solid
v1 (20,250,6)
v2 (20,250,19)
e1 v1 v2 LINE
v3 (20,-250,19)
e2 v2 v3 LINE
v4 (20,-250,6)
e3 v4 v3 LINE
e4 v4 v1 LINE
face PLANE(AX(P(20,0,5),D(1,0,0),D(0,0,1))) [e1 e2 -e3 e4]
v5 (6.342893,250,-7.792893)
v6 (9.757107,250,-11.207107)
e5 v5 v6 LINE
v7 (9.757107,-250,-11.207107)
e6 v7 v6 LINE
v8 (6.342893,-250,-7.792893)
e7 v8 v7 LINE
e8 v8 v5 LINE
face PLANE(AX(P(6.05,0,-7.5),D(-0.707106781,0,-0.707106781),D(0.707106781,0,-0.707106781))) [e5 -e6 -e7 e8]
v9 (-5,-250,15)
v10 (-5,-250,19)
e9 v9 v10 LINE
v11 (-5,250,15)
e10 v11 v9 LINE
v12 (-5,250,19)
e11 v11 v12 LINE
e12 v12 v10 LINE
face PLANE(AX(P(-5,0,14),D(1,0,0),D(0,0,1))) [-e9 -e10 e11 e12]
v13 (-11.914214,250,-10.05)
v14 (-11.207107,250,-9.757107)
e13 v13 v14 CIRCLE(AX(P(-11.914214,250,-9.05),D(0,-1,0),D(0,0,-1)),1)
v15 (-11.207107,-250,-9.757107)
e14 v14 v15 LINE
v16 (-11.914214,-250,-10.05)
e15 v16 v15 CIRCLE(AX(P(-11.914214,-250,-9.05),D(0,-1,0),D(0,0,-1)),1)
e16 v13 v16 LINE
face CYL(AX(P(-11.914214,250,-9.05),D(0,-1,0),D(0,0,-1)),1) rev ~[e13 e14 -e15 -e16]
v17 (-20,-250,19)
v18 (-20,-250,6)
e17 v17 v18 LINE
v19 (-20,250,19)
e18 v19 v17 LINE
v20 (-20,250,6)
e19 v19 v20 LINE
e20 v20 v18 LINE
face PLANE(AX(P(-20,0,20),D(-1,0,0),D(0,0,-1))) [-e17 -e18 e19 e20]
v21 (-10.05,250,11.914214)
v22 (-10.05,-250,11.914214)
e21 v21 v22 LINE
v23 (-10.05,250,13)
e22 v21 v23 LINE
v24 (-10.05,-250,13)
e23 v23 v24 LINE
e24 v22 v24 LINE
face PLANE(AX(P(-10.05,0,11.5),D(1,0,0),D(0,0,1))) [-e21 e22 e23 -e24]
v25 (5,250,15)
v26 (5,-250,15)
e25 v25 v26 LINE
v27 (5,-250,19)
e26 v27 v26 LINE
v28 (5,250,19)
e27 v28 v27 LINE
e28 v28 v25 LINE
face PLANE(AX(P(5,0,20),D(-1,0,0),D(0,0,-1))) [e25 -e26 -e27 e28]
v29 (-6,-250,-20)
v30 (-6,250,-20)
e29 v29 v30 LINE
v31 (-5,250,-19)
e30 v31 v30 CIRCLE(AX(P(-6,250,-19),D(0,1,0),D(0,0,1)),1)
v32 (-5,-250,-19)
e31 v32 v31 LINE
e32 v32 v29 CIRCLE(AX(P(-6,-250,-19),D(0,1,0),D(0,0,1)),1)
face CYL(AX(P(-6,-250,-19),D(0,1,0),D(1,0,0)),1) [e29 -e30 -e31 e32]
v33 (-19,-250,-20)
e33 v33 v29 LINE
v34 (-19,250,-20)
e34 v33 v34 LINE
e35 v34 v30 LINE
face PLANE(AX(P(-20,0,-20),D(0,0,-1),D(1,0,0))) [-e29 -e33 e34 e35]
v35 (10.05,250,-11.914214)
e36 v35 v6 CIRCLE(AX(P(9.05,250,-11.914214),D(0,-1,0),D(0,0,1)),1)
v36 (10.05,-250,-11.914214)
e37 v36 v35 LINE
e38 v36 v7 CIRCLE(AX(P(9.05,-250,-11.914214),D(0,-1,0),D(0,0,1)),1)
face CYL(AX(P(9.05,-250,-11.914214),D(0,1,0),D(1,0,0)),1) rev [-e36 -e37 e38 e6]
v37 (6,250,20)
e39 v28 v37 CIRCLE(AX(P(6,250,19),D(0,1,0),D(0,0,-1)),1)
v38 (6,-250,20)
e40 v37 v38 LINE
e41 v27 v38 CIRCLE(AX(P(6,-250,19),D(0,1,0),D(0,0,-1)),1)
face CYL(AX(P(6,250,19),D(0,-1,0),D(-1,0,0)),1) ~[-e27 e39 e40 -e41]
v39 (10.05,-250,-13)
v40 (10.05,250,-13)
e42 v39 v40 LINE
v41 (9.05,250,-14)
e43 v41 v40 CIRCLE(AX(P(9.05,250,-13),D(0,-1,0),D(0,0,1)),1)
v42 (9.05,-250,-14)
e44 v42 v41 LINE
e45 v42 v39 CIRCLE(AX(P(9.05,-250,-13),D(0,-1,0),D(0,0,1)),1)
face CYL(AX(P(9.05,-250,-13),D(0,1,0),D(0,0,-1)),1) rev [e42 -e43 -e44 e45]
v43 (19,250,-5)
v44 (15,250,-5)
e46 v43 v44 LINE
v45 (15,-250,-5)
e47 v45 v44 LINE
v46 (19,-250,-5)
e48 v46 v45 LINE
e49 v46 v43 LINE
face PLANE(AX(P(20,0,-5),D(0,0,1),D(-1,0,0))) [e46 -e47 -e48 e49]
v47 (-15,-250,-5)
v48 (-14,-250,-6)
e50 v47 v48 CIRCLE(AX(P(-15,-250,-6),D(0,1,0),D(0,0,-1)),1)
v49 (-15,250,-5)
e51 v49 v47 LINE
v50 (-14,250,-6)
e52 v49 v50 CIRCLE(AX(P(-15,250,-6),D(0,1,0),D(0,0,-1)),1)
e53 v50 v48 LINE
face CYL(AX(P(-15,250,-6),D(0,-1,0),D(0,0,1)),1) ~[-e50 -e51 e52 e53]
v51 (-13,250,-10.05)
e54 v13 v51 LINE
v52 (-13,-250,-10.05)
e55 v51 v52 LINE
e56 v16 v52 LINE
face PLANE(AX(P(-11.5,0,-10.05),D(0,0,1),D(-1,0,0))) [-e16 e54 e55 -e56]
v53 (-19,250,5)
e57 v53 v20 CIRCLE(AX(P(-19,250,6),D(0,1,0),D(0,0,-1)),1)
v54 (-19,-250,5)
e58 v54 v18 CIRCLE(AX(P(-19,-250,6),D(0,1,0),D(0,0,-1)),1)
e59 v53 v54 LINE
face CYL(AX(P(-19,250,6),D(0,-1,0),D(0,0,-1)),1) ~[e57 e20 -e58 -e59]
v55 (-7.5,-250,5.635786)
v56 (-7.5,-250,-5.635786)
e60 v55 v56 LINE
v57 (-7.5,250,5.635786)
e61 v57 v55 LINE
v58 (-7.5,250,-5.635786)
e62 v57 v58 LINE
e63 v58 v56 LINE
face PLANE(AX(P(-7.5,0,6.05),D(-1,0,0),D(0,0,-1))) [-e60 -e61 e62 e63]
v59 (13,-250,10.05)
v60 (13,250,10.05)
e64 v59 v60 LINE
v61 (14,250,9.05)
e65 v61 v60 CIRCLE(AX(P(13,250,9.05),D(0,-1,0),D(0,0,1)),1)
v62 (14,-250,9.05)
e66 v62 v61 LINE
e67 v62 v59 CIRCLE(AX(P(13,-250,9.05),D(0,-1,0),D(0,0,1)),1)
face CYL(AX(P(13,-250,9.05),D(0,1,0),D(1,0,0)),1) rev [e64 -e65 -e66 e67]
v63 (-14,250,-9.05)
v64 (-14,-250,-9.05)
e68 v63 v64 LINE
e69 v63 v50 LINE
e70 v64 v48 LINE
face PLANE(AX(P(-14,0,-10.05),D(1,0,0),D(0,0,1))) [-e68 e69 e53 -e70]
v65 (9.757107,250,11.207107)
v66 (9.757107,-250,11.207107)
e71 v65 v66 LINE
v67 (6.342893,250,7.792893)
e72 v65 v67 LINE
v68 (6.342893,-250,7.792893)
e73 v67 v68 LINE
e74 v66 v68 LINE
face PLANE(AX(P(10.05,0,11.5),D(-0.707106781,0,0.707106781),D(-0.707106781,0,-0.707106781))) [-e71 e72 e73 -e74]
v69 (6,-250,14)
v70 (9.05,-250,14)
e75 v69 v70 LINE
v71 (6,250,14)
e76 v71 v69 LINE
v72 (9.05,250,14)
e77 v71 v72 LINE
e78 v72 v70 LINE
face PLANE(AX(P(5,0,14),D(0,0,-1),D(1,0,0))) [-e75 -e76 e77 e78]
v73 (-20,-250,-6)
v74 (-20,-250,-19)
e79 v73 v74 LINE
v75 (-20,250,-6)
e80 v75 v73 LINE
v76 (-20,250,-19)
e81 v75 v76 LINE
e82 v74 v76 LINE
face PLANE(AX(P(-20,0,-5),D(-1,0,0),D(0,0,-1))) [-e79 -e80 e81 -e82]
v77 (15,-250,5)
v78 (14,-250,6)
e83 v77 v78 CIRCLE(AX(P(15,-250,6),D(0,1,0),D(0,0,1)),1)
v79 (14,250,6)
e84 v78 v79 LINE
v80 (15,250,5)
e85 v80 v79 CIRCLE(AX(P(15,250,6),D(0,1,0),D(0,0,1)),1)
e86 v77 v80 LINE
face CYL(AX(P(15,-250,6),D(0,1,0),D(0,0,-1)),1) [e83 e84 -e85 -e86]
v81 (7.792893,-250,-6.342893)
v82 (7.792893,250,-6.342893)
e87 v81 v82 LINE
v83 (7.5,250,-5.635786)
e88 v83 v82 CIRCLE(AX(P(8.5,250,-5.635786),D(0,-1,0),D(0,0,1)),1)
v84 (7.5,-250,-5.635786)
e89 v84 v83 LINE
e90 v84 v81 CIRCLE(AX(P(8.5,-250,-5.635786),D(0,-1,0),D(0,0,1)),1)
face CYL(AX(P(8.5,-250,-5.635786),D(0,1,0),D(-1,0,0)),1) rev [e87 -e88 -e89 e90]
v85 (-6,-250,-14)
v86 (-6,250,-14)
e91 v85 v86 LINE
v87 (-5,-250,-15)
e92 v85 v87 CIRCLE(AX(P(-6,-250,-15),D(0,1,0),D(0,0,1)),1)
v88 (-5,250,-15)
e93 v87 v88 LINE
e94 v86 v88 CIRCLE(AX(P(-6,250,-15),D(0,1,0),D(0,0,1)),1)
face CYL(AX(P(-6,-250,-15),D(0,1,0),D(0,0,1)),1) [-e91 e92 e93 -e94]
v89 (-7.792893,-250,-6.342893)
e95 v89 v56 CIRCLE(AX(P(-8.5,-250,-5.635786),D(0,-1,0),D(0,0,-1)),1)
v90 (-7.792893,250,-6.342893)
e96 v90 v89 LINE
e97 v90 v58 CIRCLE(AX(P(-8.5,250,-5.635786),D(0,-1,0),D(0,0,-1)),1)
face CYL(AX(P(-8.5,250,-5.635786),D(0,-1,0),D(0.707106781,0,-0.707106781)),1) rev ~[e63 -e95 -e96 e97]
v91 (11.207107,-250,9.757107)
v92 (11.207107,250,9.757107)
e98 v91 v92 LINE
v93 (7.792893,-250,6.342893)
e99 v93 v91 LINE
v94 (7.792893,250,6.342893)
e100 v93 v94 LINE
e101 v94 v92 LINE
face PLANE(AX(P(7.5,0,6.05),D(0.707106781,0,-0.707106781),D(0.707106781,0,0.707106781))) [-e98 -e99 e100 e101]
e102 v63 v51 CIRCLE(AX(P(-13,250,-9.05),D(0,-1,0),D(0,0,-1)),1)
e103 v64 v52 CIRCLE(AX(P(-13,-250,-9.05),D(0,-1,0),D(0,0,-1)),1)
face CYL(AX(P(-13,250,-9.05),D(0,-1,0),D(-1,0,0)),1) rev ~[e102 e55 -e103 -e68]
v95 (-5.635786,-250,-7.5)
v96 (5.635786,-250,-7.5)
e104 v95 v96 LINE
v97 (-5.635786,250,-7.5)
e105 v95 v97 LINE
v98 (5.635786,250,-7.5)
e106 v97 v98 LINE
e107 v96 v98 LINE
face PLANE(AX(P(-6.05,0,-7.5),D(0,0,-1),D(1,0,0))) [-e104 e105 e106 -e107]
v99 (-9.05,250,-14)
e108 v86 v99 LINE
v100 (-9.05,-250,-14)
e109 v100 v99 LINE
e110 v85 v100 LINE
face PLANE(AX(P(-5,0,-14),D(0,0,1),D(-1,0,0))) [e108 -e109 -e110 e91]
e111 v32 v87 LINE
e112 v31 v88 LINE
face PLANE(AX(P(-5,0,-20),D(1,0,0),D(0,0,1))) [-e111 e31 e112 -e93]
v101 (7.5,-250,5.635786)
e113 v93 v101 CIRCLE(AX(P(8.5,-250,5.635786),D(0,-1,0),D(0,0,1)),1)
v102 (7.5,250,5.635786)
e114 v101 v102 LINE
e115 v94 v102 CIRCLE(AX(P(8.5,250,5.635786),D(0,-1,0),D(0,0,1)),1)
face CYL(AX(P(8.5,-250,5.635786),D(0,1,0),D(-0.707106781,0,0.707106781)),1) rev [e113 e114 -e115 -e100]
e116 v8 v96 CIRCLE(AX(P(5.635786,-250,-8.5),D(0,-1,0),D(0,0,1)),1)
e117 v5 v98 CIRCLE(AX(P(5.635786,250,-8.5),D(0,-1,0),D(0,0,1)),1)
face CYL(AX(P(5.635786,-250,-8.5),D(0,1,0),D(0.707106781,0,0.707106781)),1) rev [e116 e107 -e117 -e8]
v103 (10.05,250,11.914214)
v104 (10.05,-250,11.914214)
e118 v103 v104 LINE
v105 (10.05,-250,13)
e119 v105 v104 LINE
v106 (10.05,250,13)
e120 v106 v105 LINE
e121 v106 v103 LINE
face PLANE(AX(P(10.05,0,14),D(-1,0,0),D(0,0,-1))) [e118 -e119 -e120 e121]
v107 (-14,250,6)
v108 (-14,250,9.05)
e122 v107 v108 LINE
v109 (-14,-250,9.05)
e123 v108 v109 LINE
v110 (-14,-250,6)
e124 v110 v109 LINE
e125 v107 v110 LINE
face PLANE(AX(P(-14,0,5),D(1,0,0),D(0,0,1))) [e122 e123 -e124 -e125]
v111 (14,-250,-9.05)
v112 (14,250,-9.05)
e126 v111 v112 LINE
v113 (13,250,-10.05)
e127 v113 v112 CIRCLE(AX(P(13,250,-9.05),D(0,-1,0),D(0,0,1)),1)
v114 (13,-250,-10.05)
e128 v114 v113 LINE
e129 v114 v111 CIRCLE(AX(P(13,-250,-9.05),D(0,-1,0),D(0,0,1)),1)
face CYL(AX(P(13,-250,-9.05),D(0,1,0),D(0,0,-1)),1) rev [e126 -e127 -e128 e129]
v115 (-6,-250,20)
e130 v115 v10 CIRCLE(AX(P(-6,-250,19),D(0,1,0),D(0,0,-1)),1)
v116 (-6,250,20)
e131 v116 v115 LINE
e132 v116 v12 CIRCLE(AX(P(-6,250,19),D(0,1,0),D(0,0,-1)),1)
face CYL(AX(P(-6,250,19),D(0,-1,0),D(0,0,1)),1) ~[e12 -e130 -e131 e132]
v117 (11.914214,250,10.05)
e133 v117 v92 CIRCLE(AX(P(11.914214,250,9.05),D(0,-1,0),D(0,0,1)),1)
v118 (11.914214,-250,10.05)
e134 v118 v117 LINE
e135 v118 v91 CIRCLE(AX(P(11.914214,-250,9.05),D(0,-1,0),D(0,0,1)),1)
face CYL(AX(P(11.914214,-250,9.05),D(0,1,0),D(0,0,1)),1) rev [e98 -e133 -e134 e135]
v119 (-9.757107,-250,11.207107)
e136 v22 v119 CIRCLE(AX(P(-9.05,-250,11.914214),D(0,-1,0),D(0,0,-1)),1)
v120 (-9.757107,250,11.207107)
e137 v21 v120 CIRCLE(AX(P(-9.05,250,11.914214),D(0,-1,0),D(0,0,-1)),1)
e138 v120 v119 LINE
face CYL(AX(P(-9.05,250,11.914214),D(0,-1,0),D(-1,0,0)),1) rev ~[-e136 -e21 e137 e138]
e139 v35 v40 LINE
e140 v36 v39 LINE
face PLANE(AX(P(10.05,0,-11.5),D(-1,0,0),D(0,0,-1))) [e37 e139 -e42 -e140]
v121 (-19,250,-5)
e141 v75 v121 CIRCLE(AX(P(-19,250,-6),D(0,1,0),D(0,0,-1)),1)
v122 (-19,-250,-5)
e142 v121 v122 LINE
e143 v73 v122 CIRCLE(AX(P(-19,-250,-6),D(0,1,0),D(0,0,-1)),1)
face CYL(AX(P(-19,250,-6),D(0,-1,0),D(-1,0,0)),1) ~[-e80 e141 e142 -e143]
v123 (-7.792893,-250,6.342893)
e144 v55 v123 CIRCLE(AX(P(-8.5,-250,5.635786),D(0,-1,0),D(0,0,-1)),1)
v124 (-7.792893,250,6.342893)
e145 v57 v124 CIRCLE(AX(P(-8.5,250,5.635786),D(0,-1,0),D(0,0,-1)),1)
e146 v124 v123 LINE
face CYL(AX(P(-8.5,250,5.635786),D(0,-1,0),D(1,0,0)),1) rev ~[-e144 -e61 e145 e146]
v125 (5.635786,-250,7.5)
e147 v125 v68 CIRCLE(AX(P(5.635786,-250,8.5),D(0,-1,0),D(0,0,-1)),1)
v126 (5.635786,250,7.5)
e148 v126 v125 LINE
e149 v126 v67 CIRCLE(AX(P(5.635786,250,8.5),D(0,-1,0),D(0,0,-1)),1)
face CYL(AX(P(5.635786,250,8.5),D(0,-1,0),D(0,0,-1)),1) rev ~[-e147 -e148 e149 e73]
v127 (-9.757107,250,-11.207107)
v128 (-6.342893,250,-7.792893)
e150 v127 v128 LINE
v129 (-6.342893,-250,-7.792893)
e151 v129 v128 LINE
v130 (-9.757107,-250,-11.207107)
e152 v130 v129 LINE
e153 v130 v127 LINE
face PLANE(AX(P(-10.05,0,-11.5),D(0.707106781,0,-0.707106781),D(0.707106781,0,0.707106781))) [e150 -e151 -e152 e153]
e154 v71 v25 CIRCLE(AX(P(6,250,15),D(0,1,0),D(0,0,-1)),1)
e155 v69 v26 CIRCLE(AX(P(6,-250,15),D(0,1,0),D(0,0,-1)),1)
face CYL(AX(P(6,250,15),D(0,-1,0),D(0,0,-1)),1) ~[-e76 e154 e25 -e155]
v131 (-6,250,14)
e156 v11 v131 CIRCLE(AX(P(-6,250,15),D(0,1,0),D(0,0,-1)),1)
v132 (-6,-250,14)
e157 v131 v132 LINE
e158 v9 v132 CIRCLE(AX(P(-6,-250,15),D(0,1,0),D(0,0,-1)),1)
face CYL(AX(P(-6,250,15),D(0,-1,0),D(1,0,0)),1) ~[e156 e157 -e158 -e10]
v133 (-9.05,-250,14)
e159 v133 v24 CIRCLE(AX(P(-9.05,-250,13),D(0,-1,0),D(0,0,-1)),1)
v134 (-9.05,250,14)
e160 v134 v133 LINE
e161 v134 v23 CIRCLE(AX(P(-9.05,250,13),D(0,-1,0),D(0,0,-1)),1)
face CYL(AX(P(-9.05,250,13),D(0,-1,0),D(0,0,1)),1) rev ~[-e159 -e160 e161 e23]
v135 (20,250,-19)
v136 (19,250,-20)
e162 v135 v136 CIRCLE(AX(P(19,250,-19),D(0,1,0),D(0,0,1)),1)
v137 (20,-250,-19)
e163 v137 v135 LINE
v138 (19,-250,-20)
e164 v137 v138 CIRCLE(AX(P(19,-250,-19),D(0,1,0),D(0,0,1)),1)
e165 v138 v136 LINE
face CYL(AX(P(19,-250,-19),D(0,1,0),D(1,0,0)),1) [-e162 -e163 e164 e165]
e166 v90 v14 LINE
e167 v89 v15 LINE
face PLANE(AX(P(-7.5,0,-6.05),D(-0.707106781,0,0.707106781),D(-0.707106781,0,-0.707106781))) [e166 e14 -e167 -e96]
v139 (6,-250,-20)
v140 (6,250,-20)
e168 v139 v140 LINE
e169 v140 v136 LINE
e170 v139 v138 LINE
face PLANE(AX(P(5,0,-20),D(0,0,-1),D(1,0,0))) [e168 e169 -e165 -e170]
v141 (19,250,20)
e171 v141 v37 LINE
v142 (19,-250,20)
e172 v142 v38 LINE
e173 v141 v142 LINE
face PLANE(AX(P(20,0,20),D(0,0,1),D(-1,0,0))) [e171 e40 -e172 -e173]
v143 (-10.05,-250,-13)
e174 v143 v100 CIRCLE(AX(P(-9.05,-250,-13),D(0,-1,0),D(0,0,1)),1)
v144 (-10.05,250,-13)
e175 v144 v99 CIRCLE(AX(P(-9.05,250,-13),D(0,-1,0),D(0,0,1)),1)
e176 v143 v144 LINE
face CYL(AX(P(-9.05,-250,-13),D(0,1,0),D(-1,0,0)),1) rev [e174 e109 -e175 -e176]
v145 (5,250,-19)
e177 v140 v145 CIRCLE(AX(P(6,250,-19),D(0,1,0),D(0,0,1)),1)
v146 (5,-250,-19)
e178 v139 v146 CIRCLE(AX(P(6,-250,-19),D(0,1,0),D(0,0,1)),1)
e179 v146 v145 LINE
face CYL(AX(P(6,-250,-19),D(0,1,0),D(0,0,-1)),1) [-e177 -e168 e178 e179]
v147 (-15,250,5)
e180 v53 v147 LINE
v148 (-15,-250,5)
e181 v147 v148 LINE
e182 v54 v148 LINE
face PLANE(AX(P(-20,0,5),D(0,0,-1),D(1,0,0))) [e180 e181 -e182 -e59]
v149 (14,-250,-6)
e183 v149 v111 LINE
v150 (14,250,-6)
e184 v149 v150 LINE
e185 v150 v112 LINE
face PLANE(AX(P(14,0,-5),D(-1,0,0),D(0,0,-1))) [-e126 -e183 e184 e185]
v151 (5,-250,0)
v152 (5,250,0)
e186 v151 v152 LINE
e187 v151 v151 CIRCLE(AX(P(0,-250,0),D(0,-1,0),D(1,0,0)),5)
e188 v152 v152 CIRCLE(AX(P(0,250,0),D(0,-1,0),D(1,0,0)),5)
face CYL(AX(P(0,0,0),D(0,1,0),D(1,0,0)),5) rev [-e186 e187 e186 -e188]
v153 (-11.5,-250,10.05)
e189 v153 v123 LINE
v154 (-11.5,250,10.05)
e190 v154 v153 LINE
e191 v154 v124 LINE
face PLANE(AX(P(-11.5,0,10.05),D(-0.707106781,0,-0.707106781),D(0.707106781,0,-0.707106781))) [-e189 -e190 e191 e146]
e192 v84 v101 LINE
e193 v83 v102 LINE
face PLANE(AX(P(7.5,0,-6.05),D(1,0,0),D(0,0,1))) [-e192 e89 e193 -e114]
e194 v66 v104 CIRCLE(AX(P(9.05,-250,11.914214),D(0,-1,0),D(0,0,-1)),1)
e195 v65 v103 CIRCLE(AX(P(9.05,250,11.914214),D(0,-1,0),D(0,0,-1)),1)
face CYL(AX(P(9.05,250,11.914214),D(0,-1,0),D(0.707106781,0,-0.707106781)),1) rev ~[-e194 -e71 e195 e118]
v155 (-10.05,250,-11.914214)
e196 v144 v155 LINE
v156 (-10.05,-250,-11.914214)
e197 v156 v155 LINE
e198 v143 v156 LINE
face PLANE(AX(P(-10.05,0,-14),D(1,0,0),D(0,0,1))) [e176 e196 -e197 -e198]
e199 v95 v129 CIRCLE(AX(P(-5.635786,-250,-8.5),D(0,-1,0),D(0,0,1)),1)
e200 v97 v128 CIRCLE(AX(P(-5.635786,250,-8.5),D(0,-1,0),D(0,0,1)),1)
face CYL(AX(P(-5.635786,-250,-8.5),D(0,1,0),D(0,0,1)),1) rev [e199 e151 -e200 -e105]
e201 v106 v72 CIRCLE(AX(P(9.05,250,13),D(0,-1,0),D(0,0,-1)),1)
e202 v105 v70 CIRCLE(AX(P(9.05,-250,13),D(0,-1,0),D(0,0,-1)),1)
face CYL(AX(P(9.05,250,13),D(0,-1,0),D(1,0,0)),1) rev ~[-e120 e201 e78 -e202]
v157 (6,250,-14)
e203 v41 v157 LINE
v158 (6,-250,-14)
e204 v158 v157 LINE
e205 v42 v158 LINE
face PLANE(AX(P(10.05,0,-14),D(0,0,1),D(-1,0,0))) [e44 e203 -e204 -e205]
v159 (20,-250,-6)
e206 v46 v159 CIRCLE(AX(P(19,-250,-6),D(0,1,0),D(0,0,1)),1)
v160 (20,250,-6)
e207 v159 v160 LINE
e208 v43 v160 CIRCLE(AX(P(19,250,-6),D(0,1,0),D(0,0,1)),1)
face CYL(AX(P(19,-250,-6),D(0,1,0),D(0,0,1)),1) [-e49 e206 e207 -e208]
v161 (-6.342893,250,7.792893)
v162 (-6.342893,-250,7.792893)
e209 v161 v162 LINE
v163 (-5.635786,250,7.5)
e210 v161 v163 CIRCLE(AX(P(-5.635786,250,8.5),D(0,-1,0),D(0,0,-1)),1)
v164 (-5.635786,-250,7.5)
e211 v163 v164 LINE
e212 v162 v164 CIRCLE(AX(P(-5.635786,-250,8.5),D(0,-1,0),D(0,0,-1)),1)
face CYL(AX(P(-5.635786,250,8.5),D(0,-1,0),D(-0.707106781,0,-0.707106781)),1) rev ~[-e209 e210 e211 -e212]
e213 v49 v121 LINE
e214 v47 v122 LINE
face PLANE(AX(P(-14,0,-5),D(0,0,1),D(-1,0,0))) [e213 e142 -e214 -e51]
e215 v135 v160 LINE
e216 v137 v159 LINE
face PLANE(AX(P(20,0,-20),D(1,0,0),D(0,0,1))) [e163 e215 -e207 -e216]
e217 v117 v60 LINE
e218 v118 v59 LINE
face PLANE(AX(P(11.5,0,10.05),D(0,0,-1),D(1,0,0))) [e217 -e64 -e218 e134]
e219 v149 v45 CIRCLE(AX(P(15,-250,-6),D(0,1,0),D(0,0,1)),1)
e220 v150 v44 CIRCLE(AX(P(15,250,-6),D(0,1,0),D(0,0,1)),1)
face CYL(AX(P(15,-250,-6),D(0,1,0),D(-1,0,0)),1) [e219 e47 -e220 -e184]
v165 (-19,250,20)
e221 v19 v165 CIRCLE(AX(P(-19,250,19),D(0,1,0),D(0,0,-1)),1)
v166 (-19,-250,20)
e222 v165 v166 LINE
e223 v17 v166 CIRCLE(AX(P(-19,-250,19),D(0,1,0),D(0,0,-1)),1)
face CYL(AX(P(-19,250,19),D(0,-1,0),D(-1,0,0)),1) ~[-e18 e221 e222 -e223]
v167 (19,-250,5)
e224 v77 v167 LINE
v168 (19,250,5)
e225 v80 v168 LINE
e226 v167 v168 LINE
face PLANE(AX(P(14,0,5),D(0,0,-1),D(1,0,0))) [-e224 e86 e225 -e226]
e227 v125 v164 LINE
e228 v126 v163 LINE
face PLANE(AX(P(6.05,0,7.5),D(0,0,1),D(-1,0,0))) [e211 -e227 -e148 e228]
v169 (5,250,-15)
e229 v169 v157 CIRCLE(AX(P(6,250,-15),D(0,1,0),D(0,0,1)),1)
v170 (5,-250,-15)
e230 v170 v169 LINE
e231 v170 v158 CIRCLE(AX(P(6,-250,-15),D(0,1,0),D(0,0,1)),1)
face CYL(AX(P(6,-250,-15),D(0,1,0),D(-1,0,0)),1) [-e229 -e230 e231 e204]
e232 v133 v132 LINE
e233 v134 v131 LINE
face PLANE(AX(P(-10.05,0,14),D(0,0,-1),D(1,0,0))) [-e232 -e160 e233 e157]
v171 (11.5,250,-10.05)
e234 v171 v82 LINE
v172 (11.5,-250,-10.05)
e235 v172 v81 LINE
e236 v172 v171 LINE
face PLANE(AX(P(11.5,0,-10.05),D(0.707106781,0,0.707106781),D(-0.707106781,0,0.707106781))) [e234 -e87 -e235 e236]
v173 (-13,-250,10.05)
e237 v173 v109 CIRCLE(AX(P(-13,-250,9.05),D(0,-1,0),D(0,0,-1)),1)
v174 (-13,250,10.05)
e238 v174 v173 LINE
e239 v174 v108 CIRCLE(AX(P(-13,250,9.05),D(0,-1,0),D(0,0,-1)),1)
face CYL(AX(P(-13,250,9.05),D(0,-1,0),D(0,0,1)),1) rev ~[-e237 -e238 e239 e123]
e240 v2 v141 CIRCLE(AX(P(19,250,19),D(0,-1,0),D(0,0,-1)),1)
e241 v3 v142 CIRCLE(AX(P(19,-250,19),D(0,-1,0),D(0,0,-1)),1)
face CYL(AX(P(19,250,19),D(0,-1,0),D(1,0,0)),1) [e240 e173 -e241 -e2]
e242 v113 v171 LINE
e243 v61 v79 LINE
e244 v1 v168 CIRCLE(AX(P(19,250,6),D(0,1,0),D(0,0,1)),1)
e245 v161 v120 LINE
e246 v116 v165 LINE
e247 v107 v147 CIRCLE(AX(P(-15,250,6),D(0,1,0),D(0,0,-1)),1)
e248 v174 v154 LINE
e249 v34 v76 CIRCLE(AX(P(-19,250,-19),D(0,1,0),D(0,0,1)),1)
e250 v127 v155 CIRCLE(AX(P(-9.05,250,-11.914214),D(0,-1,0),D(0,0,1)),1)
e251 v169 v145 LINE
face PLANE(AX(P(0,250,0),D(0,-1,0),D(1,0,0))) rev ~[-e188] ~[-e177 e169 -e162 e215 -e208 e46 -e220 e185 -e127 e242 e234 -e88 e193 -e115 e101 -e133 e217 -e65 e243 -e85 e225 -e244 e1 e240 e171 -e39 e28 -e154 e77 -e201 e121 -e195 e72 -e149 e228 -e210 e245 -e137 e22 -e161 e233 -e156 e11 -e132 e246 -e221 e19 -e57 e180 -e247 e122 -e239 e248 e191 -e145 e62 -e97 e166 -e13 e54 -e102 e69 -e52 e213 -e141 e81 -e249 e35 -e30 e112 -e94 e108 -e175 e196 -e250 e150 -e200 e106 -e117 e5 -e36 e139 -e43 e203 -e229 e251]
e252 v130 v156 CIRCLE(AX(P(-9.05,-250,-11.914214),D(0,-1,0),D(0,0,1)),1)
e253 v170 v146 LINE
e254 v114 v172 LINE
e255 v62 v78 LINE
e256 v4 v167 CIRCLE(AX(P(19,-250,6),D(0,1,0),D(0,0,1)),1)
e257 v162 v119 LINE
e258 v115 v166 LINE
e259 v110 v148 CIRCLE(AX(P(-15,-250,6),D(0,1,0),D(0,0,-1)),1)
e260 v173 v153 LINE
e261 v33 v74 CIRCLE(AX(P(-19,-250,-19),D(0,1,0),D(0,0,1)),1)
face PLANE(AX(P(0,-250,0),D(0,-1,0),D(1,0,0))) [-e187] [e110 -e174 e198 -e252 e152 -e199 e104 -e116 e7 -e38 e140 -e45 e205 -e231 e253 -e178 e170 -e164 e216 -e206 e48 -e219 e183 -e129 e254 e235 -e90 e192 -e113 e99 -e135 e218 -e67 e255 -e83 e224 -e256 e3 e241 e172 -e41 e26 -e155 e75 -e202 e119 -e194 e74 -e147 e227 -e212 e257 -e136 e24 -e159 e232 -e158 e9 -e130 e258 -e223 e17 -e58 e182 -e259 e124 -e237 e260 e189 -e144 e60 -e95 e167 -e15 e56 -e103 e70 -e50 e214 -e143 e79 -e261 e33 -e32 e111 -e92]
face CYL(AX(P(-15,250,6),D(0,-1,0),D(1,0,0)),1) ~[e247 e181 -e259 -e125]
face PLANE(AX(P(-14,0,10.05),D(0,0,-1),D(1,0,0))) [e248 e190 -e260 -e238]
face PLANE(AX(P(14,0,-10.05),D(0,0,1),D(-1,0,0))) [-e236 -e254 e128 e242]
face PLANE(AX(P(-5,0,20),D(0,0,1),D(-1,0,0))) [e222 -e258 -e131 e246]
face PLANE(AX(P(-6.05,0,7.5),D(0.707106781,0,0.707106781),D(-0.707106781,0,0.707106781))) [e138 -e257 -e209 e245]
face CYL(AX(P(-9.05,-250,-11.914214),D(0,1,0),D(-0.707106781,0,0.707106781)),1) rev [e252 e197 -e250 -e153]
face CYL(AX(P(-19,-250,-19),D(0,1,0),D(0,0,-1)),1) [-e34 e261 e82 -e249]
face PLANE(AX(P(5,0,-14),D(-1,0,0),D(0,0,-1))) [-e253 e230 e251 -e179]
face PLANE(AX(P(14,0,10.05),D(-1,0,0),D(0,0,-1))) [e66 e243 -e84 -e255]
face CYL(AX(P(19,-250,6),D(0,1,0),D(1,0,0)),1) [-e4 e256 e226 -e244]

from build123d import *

# Parameters (mm, degrees)
F0_R     = 5
F1_DEPTH = 250
F2_R     = 1


with BuildPart() as f1:
    # F0 (on Front) → F1 (new body, symmetric)
    with BuildSketch(Plane.XZ):
        Polygon((20, 5), (20, 20), (5, 20), (5, 14), (10.05, 14), (10.05, 11.5), (6.05, 7.5), (-6.05, 7.5), (-10.05, 11.5), (-10.05, 14), (-5, 14), (-5, 20), (-20, 20), (-20, 5), (-14, 5), (-14, 10.05), (-11.5, 10.05), (-7.5, 6.05), (-7.5, -6.05), (-11.5, -10.05), (-14, -10.05), (-14, -5), (-20, -5), (-20, -20), (-5, -20), (-5, -14), (-10.05, -14), (-10.05, -11.5), (-6.05, -7.5), (6.05, -7.5), (10.05, -11.5), (10.05, -14), (5, -14), (5, -20), (20, -20), (20, -5), (14, -5), (14, -10.05), (11.5, -10.05), (7.5, -6.05), (7.5, 6.05), (11.5, 10.05), (14, 10.05), (14, 5), align=None)
        Circle(F0_R, mode=Mode.SUBTRACT)
    extrude(amount=F1_DEPTH, both=True)

    # F2
    f2_edges = [f1.edges().sort_by_distance(p)[0] for p in [
        (-5, 0, 20),
        (5, 0, 20),
        (20, 0, 20),
        (20, 0, 5),
        (-5, 0, 14),
        (-6.05, 0, 7.5),
        (-10.05, 0, 11.5),
        (-10.05, 0, 14),
        (10.05, 0, 14),
        (5, 0, 14),
        (10.05, 0, 11.5),
        (6.05, 0, 7.5),
        (20, 0, -5),
        (14, 0, -5),
        (7.5, 0, 6.05),
        (7.5, 0, -6.05),
        (-10.05, 0, -11.5),
        (-10.05, 0, -14),
        (5, 0, -14),
        (20, 0, -20),
        (-5, 0, -20),
        (-14, 0, -5),
        (-14, 0, -10.05),
        (-14, 0, 5),
        (-20, 0, 20),
        (14, 0, -10.05),
        (10.05, 0, -11.5),
        (10.05, 0, -14),
        (-5, 0, -14),
        (5, 0, -20),
        (-14, 0, 10.05),
        (-20, 0, 5),
        (-20, 0, -5),
        (-7.5, 0, 6.05),
        (-7.5, 0, -6.05),
        (-11.5, 0, -10.05),
        (14, 0, 10.05),
        (11.5, 0, 10.05),
        (14, 0, 5),
        (-6.05, 0, -7.5),
        (6.05, 0, -7.5),
        (-20, 0, -20),
    ]]
    fillet(f2_edges, radius=F2_R)


solid = f1.part
